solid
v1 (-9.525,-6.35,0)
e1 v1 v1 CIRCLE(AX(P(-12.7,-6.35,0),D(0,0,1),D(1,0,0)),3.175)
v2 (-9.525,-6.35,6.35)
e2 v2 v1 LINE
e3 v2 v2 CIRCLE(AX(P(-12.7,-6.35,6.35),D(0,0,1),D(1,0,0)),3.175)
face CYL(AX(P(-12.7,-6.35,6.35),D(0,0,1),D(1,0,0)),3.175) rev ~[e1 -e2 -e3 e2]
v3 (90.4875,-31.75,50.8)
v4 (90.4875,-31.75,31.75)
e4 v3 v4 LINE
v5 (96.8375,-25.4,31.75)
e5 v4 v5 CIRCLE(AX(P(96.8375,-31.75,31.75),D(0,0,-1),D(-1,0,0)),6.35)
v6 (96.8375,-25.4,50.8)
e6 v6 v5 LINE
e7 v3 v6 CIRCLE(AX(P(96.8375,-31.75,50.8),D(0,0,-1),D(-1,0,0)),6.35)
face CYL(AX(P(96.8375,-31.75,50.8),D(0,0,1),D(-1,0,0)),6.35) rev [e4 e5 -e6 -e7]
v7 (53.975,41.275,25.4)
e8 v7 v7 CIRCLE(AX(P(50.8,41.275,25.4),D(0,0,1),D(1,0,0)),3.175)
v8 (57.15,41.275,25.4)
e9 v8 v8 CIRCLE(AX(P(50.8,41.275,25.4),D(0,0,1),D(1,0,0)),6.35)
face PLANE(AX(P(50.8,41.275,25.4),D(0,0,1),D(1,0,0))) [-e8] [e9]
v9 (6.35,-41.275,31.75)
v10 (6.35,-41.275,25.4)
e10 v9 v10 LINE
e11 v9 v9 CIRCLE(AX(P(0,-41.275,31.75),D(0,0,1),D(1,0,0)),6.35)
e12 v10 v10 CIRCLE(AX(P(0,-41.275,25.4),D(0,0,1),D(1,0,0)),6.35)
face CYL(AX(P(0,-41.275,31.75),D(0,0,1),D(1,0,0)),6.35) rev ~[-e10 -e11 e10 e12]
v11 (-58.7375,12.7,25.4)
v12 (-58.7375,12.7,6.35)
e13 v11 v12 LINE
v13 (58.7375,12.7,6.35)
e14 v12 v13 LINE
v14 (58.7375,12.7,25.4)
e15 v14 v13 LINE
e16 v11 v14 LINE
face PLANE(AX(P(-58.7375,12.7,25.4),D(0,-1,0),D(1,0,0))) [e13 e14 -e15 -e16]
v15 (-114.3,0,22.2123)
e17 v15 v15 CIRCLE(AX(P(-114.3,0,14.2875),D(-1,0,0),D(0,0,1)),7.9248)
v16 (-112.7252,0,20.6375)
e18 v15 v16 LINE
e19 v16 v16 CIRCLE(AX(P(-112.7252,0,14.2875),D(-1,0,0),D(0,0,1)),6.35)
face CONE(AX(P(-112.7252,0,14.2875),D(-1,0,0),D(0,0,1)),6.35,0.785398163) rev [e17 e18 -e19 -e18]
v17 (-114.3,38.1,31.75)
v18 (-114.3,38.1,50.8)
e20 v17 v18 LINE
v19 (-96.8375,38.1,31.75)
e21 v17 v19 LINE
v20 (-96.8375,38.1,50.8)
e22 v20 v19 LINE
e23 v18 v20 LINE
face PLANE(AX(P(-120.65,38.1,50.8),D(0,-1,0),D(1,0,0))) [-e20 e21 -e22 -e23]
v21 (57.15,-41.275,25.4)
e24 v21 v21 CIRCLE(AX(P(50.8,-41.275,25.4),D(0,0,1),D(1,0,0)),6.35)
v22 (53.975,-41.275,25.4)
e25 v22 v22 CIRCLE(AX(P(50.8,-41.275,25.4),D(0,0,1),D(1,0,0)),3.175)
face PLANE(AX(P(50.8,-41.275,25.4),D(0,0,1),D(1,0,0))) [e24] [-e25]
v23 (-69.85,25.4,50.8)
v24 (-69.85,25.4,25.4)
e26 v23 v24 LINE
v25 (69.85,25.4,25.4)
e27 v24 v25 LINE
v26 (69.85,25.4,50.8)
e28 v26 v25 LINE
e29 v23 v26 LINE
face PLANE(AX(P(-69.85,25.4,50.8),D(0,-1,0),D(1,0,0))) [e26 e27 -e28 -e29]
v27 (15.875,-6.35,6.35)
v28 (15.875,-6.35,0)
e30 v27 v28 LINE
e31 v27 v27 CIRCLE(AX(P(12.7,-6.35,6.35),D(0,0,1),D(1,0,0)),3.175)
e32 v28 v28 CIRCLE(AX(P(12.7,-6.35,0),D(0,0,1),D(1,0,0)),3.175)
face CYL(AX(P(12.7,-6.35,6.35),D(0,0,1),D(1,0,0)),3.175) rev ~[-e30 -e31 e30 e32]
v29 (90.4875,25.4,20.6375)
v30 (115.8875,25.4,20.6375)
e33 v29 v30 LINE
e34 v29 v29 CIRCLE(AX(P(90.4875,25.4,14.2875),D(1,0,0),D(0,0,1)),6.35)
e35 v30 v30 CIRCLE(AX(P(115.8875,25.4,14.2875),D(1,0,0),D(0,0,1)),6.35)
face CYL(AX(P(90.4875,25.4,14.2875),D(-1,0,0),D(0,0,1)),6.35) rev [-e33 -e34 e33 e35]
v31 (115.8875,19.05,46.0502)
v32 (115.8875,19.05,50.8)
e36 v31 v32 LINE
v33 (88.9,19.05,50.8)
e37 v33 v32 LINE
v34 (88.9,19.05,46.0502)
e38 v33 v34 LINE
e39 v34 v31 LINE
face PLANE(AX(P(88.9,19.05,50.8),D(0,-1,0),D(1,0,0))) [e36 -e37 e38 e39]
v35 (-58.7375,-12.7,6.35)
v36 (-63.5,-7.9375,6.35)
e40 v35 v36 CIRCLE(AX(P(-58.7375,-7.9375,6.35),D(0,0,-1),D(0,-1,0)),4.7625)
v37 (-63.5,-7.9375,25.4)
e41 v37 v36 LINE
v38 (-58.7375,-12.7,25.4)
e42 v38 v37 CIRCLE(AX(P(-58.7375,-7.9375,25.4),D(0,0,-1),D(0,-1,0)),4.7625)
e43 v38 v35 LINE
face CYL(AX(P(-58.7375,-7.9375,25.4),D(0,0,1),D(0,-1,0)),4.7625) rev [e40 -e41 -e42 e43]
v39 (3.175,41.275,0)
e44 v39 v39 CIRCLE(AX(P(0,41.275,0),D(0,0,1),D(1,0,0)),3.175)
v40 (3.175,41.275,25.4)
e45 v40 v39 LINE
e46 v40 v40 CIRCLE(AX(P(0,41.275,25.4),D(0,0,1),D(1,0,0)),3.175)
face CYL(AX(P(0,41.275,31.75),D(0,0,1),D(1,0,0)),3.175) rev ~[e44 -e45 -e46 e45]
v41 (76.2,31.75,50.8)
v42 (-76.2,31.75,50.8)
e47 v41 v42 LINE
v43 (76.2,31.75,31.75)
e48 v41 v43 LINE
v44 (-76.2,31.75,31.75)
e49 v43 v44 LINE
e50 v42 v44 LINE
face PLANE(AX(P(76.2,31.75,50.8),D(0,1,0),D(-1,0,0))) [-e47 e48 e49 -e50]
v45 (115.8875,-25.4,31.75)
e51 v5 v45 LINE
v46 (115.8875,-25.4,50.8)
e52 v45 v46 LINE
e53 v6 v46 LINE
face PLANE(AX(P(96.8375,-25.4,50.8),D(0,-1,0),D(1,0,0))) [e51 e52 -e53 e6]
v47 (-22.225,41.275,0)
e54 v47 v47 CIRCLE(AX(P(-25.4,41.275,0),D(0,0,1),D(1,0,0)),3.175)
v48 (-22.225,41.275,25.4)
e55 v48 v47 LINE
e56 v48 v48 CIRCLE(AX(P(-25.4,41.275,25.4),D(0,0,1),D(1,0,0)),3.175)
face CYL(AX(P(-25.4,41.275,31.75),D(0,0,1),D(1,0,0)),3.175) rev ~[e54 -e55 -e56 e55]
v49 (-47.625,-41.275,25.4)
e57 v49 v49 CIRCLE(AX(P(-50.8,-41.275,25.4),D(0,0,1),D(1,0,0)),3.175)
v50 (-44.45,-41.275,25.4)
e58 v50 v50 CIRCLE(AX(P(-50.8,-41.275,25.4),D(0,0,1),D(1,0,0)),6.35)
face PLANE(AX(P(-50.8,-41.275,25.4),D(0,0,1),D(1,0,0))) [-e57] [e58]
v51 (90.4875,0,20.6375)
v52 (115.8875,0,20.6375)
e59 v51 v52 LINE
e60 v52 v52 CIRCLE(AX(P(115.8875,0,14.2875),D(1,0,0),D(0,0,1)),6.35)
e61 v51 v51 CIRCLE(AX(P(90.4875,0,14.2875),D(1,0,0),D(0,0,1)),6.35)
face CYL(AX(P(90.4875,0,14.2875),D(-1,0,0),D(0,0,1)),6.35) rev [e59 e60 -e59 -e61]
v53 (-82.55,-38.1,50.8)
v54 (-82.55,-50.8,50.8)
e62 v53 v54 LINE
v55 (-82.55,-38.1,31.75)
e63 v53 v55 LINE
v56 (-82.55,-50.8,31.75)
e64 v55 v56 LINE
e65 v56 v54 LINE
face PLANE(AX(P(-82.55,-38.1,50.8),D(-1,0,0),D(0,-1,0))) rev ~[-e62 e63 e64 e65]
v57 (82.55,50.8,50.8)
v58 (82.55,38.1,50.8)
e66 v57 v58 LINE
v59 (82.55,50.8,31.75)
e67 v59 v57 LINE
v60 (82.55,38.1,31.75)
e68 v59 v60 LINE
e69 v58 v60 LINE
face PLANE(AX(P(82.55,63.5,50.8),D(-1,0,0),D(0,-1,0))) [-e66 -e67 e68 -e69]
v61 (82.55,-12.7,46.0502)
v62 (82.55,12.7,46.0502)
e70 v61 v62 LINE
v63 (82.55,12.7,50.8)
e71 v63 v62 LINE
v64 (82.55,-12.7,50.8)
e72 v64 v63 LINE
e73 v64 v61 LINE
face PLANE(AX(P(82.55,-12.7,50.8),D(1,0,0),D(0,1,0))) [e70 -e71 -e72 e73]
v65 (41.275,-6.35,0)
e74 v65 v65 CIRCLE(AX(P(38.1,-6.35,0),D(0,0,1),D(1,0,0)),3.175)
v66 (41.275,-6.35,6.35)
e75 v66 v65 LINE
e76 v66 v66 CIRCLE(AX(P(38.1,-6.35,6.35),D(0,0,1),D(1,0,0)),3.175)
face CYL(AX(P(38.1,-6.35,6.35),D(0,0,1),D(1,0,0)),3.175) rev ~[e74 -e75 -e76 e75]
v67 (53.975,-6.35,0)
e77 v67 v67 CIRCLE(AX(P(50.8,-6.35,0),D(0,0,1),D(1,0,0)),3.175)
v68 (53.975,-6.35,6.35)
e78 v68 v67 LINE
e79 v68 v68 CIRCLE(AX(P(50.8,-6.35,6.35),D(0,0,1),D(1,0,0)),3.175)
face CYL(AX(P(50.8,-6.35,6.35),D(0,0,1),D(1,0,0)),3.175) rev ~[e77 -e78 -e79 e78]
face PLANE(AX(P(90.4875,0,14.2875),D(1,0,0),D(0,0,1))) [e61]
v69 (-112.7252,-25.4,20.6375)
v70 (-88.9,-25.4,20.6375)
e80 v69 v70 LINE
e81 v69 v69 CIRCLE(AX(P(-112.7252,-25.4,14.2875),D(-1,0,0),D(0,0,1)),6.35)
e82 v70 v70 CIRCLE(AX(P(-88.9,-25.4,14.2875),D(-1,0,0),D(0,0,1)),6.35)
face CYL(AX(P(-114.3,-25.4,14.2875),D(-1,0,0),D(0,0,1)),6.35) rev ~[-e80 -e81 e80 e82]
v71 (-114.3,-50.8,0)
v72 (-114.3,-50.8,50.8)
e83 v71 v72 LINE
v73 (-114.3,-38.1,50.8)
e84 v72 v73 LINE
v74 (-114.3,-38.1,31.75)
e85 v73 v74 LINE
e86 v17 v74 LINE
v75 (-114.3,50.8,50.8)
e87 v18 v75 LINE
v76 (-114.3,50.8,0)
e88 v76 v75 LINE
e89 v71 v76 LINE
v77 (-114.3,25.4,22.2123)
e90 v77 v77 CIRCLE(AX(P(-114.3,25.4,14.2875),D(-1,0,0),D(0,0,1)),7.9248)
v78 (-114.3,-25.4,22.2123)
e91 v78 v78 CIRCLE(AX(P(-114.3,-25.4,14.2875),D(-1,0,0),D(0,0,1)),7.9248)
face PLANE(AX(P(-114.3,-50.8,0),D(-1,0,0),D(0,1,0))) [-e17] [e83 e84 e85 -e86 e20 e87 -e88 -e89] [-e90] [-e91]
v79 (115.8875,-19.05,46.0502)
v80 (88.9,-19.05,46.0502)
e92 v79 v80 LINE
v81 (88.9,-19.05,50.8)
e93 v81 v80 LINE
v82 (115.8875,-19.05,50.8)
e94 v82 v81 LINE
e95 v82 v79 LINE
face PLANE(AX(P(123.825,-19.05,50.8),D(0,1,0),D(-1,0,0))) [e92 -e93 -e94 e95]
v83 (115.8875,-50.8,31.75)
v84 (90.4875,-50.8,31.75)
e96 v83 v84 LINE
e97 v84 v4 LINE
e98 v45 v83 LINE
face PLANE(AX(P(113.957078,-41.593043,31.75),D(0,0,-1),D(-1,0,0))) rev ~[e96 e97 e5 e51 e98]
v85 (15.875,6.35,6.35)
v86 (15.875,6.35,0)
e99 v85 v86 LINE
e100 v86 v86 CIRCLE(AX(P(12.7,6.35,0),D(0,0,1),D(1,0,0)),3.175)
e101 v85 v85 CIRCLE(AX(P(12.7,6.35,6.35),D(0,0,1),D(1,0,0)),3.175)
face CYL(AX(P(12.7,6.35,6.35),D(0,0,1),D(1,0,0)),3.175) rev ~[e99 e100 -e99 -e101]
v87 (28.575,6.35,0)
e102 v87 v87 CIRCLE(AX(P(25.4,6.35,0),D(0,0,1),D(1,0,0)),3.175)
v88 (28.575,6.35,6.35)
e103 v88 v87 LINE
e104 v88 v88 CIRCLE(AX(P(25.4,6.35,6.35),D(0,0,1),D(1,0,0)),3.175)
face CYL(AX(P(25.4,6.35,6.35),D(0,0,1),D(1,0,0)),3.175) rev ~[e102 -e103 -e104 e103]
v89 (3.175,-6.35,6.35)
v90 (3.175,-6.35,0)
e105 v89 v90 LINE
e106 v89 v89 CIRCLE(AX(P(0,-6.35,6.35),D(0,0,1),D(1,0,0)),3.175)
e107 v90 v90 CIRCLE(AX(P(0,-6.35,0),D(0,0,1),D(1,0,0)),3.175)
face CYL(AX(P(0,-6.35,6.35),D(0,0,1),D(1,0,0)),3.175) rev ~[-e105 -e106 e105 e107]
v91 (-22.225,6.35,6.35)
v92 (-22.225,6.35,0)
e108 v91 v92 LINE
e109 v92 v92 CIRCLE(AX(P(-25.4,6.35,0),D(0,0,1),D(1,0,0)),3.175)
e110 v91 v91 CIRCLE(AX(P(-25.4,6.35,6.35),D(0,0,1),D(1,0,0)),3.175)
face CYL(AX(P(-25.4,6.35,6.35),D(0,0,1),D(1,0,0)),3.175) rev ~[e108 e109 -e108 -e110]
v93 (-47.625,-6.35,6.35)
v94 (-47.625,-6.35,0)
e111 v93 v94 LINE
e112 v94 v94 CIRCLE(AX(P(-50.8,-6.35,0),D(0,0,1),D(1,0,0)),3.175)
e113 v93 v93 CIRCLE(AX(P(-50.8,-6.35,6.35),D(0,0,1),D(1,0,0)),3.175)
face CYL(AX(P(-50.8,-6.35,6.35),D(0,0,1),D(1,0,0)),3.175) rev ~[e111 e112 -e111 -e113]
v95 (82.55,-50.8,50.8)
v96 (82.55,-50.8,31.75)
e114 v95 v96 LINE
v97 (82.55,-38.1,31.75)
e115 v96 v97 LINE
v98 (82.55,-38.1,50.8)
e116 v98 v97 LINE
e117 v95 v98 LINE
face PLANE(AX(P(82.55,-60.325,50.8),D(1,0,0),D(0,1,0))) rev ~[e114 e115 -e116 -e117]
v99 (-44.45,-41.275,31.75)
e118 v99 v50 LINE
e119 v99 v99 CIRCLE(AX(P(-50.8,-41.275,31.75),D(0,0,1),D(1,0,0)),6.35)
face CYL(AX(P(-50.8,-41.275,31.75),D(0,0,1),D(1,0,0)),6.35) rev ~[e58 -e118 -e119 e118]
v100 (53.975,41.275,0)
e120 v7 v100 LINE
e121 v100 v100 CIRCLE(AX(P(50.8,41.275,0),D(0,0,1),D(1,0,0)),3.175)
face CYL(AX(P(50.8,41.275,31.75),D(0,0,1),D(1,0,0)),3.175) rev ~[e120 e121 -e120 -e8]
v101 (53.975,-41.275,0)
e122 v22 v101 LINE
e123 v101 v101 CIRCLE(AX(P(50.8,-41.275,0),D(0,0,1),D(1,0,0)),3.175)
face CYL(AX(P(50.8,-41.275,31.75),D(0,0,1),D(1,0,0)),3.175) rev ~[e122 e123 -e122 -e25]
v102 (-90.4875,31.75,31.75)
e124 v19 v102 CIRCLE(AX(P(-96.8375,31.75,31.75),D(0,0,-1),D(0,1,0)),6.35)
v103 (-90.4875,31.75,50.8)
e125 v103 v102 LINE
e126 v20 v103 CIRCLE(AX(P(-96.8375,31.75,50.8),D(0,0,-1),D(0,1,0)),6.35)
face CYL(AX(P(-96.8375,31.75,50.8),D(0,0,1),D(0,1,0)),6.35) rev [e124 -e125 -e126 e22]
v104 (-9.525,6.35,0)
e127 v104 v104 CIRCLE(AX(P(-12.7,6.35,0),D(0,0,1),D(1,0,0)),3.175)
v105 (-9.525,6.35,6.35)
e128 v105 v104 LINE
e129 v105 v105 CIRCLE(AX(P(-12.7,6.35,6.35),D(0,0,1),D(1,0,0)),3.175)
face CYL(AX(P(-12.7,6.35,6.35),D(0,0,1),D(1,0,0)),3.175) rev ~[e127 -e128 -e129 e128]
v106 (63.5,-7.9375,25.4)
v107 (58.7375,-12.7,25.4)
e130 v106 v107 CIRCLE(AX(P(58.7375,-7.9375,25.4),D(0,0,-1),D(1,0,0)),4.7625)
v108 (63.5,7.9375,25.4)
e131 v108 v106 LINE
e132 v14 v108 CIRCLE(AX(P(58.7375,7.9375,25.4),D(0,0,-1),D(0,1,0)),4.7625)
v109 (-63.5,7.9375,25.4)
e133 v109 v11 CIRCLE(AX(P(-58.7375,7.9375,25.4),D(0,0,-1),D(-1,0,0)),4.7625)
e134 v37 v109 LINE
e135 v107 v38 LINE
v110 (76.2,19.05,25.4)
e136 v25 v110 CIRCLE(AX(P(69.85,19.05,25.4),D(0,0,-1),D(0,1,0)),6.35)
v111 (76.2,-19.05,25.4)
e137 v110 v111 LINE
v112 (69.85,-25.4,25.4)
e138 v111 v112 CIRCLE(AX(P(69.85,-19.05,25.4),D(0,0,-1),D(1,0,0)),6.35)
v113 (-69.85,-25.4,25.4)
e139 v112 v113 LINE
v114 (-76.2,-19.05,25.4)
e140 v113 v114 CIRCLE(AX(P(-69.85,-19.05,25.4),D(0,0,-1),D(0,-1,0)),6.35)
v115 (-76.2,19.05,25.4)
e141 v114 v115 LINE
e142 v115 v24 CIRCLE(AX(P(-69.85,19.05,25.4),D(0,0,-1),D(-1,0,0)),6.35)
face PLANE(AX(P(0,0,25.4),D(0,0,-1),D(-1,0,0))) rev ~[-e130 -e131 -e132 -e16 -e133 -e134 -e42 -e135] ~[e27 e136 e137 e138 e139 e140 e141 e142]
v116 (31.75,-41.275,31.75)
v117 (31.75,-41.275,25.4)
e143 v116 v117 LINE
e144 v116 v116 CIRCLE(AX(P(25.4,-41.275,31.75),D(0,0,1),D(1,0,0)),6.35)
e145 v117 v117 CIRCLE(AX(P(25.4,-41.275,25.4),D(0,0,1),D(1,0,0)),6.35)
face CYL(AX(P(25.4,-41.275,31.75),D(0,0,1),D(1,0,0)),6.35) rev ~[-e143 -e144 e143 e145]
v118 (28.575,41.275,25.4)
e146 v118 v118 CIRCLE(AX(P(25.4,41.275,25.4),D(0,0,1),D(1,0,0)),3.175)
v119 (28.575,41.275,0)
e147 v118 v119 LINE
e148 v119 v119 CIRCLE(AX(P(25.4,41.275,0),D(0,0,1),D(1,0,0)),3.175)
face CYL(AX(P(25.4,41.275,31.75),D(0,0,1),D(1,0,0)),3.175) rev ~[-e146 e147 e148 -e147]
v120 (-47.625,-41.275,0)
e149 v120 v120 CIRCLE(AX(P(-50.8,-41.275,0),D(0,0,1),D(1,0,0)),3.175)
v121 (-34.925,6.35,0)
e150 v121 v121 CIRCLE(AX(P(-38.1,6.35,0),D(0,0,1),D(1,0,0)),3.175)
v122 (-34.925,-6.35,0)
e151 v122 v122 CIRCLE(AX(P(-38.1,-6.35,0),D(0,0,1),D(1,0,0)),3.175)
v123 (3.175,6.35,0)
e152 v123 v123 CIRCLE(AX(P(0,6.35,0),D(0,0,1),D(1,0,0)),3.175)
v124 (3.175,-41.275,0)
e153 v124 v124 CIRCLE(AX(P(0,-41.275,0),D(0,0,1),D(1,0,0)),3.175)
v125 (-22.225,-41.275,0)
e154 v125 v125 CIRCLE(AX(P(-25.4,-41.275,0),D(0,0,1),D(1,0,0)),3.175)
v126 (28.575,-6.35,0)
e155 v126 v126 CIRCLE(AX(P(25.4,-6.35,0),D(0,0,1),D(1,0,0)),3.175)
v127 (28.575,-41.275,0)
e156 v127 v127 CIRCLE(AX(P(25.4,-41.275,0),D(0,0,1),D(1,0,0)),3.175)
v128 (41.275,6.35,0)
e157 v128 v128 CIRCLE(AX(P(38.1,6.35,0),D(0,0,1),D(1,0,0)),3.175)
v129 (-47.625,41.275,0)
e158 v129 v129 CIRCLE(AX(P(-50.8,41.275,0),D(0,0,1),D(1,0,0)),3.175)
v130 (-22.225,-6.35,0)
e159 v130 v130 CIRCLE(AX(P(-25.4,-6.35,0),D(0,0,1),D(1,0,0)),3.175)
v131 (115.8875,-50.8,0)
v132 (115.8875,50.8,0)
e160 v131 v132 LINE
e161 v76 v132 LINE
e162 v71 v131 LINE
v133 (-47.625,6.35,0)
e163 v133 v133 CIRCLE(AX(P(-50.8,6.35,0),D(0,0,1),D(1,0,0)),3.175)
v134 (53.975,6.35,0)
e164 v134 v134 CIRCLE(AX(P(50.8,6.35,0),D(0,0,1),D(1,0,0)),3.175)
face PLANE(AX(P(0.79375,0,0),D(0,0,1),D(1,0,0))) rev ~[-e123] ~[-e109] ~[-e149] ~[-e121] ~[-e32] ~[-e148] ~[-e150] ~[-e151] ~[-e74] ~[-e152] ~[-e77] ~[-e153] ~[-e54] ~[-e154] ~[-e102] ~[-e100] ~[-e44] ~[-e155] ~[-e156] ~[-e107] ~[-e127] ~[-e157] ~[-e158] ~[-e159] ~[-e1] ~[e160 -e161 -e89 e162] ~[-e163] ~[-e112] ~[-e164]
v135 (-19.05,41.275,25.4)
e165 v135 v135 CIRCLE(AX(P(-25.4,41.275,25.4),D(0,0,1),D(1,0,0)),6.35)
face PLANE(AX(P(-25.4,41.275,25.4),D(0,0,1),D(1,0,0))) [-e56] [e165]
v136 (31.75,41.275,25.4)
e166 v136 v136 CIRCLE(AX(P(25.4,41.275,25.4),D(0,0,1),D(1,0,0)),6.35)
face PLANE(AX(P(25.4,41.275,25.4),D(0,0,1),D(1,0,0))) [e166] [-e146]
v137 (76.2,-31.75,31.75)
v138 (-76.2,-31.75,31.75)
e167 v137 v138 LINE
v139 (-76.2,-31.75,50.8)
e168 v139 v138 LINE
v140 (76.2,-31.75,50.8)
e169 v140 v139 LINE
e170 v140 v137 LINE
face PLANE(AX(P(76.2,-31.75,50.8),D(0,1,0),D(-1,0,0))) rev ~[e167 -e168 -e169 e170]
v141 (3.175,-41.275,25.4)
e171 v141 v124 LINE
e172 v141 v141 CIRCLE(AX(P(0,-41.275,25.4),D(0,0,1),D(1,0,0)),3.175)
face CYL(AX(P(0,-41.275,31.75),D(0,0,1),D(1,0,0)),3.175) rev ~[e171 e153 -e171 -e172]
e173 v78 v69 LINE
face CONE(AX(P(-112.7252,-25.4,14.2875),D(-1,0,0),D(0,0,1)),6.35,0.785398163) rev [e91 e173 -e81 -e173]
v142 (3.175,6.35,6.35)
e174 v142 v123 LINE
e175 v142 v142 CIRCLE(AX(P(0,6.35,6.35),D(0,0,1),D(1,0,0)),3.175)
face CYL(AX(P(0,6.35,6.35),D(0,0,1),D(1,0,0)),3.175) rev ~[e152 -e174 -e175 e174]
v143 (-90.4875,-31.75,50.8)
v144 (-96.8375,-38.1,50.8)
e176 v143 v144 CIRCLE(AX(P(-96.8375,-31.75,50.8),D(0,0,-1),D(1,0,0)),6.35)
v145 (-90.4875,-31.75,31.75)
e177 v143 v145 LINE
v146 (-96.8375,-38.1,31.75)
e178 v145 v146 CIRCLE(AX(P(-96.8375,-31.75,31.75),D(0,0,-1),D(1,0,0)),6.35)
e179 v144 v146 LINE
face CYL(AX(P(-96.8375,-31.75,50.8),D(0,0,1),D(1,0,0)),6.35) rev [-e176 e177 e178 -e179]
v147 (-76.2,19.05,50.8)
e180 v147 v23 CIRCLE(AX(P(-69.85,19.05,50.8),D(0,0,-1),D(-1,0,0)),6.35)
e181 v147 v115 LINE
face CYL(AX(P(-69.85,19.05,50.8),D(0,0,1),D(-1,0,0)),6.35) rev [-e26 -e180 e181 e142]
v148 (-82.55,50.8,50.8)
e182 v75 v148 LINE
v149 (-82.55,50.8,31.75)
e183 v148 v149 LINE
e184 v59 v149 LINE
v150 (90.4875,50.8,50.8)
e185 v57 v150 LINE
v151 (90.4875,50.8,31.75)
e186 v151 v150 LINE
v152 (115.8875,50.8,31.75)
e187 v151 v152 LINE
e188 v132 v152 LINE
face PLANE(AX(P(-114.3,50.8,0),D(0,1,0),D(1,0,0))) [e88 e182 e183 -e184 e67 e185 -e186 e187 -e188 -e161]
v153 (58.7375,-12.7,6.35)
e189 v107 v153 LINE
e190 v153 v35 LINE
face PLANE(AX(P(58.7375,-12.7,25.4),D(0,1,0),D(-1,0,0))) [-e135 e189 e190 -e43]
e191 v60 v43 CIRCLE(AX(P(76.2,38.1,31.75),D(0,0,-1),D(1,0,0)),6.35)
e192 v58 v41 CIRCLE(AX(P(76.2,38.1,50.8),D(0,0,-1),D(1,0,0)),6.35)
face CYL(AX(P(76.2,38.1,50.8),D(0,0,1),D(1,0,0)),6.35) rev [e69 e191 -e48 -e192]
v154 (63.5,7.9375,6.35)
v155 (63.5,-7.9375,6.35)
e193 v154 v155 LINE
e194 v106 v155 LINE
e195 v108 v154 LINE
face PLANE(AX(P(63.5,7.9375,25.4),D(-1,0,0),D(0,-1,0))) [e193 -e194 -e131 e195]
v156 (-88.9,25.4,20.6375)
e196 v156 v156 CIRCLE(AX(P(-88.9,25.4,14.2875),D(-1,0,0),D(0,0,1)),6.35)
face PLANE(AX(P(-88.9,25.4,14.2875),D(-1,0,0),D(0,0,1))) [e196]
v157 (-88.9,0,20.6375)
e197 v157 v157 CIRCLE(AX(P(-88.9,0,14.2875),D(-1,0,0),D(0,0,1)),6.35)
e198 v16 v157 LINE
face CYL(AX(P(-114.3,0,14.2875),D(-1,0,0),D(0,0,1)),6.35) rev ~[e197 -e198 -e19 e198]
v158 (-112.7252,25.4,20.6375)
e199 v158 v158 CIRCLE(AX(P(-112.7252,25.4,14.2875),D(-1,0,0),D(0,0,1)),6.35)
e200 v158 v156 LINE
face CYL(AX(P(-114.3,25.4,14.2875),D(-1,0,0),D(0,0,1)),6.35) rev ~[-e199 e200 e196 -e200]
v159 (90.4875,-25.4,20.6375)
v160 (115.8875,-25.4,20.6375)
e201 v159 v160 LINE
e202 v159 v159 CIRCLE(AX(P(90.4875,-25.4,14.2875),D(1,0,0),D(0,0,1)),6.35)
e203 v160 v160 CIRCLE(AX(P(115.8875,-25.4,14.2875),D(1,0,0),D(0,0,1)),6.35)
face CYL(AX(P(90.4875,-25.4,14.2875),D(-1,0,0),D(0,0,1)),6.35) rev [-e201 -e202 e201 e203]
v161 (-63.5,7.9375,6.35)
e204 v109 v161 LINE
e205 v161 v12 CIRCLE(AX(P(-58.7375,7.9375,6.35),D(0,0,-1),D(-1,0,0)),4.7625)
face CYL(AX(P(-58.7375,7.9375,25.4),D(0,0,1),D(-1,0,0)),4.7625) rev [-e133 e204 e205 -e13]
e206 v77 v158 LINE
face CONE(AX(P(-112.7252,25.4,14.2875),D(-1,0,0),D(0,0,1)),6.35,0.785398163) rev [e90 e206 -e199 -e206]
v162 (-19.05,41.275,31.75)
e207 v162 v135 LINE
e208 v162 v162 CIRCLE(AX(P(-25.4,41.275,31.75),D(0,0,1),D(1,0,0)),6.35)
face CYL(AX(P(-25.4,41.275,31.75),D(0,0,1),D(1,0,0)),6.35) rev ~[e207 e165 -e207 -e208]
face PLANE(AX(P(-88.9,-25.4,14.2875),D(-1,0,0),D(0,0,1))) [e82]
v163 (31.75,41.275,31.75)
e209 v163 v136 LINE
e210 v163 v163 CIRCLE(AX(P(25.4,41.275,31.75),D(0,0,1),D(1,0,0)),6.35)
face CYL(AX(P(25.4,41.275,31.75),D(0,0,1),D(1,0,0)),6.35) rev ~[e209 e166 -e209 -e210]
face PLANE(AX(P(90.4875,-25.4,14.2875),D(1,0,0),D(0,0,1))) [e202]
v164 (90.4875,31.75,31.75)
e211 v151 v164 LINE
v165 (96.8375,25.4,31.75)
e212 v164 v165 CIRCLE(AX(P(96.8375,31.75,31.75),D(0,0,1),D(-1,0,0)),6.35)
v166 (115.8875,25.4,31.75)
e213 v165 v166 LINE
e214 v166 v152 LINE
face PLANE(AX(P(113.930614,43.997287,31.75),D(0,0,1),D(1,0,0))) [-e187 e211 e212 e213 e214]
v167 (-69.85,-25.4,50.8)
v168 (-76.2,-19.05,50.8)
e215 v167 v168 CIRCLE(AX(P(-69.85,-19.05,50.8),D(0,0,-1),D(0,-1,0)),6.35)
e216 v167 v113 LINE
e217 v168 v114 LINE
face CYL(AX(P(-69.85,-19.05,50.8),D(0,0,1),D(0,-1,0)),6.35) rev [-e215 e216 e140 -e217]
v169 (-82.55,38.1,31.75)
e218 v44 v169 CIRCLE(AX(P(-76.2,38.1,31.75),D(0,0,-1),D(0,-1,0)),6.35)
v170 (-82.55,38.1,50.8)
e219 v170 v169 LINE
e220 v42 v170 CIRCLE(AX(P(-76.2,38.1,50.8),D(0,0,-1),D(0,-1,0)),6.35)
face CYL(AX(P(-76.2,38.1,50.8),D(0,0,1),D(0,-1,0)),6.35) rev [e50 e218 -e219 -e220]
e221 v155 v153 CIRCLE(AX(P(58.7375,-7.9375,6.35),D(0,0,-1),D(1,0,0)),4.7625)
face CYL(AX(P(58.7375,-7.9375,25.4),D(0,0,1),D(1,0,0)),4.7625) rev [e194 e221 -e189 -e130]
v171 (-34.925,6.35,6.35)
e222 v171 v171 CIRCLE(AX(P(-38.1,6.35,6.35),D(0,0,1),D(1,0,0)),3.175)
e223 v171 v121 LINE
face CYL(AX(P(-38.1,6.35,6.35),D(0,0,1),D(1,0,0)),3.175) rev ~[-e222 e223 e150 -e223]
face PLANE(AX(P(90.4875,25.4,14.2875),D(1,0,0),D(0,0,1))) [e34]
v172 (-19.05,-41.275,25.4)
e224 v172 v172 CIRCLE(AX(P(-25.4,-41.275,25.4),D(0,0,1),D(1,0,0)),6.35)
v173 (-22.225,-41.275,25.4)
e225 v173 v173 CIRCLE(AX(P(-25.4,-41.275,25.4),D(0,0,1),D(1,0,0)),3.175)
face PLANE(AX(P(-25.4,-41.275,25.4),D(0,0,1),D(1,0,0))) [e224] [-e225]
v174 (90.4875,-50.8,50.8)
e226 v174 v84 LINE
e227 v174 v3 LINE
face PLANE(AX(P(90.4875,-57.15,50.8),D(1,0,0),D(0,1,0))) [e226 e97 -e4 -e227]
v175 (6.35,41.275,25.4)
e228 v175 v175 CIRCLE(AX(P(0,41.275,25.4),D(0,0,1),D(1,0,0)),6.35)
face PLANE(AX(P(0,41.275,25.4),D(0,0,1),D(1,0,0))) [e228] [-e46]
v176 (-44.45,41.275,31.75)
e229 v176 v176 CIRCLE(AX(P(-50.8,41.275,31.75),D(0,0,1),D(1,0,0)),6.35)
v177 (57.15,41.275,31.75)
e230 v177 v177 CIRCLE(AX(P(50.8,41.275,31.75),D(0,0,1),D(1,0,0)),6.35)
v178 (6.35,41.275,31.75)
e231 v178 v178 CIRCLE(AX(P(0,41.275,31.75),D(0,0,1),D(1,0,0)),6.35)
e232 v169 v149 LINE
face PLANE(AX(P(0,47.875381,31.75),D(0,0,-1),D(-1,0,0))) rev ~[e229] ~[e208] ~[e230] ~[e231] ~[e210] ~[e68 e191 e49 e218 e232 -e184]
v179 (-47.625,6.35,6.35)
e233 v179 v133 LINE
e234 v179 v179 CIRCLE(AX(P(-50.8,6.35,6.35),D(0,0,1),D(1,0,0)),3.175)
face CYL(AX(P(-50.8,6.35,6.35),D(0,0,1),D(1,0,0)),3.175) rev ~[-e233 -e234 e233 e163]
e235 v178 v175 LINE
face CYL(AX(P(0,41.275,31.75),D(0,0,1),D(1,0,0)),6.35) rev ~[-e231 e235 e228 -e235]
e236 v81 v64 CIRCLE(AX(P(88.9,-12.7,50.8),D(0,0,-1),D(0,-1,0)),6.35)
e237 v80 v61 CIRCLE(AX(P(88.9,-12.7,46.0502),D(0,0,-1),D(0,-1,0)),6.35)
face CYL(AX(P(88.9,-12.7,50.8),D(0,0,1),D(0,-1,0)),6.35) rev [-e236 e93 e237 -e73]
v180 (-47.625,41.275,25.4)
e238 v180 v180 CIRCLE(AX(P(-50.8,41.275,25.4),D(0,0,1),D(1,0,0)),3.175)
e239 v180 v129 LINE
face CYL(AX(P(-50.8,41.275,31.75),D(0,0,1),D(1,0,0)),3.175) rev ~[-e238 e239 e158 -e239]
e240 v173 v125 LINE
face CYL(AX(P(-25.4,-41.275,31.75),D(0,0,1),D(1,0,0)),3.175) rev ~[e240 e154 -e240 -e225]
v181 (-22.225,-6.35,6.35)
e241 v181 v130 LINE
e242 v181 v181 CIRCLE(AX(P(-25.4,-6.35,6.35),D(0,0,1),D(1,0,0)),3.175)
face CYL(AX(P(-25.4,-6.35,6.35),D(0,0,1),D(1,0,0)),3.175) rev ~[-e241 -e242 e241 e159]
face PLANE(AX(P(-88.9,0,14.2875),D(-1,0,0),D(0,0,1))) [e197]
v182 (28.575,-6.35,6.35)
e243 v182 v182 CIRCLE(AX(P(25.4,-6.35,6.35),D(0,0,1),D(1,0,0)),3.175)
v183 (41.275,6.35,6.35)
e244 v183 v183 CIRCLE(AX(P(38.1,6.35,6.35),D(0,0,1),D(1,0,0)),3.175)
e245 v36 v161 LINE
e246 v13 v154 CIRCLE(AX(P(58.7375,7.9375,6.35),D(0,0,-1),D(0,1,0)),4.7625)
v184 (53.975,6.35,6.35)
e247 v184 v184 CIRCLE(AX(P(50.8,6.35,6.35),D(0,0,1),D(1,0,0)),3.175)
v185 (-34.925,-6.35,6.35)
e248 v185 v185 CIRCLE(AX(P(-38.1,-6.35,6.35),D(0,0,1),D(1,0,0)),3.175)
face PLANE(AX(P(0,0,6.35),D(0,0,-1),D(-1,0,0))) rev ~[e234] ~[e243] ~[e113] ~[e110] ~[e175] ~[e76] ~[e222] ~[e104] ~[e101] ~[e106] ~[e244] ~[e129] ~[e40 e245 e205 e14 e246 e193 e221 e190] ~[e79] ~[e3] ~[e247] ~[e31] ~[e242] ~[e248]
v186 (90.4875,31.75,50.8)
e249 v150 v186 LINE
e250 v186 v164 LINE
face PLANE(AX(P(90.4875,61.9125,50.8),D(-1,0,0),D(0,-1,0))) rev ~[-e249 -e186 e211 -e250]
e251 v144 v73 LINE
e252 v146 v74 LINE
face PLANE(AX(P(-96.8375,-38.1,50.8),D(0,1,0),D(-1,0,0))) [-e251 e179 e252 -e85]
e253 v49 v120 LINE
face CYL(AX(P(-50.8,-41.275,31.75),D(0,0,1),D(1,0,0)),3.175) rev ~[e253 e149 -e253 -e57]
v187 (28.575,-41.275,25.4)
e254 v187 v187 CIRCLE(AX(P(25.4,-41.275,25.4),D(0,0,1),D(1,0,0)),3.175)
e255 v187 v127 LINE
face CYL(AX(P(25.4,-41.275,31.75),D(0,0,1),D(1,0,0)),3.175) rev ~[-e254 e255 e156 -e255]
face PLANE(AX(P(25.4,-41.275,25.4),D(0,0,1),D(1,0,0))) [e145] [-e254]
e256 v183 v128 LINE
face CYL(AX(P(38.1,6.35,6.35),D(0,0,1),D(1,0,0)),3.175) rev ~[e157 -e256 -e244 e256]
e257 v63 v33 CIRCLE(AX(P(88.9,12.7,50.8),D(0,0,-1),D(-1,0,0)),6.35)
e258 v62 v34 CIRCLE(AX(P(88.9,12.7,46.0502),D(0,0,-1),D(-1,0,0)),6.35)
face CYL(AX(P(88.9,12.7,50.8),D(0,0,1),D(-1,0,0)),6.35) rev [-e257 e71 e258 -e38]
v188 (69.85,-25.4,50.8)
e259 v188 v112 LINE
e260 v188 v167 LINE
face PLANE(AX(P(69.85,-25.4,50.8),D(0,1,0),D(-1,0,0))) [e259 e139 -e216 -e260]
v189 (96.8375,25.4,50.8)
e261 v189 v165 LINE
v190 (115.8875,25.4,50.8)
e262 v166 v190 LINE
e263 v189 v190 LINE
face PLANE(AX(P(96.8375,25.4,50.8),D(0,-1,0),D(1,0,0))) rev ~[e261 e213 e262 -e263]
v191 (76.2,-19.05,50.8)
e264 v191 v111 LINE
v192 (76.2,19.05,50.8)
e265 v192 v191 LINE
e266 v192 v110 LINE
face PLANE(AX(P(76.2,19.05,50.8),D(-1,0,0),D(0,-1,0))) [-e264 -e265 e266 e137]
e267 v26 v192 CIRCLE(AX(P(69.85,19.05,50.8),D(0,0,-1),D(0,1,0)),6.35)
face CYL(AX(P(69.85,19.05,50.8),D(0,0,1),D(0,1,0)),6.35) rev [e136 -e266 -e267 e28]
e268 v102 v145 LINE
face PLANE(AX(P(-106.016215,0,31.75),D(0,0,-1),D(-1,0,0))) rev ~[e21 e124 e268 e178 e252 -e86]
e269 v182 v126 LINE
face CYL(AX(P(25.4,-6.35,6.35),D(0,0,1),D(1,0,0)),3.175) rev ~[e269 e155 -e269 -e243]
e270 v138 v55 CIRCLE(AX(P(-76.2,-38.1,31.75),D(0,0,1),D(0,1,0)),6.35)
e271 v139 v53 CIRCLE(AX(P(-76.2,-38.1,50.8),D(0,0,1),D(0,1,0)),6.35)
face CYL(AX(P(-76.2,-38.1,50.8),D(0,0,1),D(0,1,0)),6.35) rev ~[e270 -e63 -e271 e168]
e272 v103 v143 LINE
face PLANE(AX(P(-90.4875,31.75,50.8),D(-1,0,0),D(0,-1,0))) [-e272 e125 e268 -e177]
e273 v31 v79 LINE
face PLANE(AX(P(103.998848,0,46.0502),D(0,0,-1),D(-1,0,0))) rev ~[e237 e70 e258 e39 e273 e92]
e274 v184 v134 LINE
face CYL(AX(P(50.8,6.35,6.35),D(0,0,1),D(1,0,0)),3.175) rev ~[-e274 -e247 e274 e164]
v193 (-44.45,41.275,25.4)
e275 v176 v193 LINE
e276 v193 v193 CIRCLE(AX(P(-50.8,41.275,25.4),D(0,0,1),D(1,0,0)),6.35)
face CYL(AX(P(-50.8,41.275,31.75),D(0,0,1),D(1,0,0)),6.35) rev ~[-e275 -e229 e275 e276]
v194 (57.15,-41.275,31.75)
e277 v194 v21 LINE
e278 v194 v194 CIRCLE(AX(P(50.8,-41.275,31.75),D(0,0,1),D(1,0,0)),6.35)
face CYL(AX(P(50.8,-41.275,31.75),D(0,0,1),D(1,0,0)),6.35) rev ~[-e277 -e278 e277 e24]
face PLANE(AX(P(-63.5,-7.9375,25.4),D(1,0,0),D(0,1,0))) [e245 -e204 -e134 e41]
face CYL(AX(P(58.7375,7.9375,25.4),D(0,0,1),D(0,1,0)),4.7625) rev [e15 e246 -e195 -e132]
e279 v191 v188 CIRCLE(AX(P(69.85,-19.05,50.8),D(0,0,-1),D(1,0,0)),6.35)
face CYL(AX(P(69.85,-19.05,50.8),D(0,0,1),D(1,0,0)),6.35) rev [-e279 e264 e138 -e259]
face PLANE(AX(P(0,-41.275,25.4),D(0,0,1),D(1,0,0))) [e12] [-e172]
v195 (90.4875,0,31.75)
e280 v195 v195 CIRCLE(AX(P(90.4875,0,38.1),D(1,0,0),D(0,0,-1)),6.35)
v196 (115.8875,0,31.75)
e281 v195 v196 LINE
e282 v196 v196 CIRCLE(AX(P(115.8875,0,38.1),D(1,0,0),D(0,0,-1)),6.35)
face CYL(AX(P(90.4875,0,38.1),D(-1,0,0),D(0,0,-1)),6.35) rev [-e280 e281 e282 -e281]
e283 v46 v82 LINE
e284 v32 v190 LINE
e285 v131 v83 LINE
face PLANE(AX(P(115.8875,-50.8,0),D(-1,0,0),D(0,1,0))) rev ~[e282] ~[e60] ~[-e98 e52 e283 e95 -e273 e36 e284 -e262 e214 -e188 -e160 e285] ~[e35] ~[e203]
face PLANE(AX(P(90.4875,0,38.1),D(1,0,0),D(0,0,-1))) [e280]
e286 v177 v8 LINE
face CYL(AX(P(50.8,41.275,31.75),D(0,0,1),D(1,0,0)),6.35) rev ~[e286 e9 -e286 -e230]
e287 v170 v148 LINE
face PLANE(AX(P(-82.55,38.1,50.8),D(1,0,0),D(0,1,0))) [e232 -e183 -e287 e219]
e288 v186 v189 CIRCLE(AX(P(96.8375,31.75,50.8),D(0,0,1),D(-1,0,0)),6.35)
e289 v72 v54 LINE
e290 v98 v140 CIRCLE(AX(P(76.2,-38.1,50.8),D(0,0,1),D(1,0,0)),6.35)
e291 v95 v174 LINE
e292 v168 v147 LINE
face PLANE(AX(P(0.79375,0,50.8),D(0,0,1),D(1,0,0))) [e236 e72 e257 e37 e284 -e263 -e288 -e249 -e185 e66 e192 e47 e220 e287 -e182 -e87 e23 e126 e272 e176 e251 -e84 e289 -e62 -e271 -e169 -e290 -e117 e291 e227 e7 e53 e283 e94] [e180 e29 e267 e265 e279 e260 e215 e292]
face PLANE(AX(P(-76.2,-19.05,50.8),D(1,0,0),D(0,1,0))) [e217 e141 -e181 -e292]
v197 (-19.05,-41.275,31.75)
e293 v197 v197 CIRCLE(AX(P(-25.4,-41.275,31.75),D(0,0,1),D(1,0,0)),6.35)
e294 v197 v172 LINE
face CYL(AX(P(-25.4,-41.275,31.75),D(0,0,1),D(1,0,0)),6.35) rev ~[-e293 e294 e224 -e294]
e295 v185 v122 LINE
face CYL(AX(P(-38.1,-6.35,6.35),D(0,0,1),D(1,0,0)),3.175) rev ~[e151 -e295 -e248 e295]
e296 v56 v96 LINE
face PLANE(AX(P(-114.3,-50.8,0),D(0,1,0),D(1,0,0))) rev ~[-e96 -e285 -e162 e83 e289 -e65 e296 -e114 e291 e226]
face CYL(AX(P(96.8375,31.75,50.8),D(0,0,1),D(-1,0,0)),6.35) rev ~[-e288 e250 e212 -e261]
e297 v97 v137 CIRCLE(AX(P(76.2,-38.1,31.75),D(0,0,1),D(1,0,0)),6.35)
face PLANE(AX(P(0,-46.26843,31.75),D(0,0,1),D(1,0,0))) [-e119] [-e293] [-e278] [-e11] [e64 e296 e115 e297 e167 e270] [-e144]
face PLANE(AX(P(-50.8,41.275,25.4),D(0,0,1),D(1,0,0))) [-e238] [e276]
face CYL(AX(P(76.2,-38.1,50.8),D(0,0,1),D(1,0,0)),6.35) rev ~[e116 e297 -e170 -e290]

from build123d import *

# Parameters (mm, degrees)
SKETCH1_W           = 230.1875
SKETCH1_H           = 101.6
BASE_EXTRUDE_DEPTH  = 50.8
CUT_EXTRUDE1_DEPTH  = 25.4
CUT_EXTRUDE2_DEPTH  = 19.05
CUT_EXTRUDE3_DEPTH  = 19.05
SKETCH5_R           = 6.35
CUT_EXTRUDE4_DEPTH  = 25.4
CHAMFER2_SIZE       = 1.5748
CUT_EXTRUDE5_START  = -25.4
SKETCH6_R           = 6.35
CUT_EXTRUDE5_DEPTH  = 25.4
CUT_EXTRUDE6_DEPTH  = 19.05
SKETCH8_R           = 3.175
CUT_EXTRUDE7_DEPTH  = 135.113217679
CUT_EXTRUDE8_DEPTH  = 19.05
SKETCH10_R          = 3.175
CUT_EXTRUDE9_DEPTH  = 131.455414438
SKETCH11_R          = 6.35
CUT_EXTRUDE10_DEPTH = 6.35
CUT_EXTRUDE11_DEPTH = 4.7498


with BuildPart() as part:
    # Sketch1 → Base-Extrude (new body)
    with BuildSketch(Plane.XY):
        with Locations((0.79375, 0)):
            Rectangle(SKETCH1_W, SKETCH1_H)
    extrude(amount=BASE_EXTRUDE_DEPTH)

    # Sketch2 → Cut-Extrude1 (cut)
    with BuildSketch(Plane.XY.offset(50.8)):
        with BuildLine():
            Line((-69.85, 25.4), (69.85, 25.4))
            ThreePointArc((69.85, 25.4), (74.340128061, 23.540128061), (76.2, 19.05))
            Line((76.2, 19.05), (76.2, -19.05))
            ThreePointArc((76.2, -19.05), (74.340128061, -23.540128061), (69.85, -25.4))
            Line((69.85, -25.4), (-69.85, -25.4))
            ThreePointArc((-69.85, -25.4), (-74.340128061, -23.540128061), (-76.2, -19.05))
            Line((-76.2, -19.05), (-76.2, 19.05))
            ThreePointArc((-76.2, 19.05), (-74.340128061, 23.540128061), (-69.85, 25.4))
        make_face()
    extrude(amount=-CUT_EXTRUDE1_DEPTH, mode=Mode.SUBTRACT)

    # Sketch3 → Cut-Extrude2 (cut)
    with BuildSketch(Plane.XY.offset(50.8)):
        with BuildLine():
            Line((136.525, 61.9125), (90.4875, 61.9125))
            Line((90.4875, 61.9125), (90.4875, 31.75))
            ThreePointArc((90.4875, 31.75), (92.347371939, 27.259871939), (96.8375, 25.4))
            Line((96.8375, 25.4), (136.525, 25.4))
            Line((136.525, 25.4), (136.525, 61.9125))
        make_face()
        with BuildLine():
            Line((136.525, -57.15), (90.4875, -57.15))
            Line((90.4875, -57.15), (90.4875, -31.75))
            ThreePointArc((90.4875, -31.75), (92.347371939, -27.259871939), (96.8375, -25.4))
            Line((96.8375, -25.4), (136.525, -25.4))
            Line((136.525, -25.4), (136.525, -57.15))
        make_face()
    extrude(amount=-CUT_EXTRUDE2_DEPTH, mode=Mode.SUBTRACT)

    # Sketch4 → Cut-Extrude3 (cut)
    with BuildSketch(Plane.XY.offset(50.8)):
        with BuildLine():
            Line((-120.65, 38.1), (-96.8375, 38.1))
            ThreePointArc((-96.8375, 38.1), (-92.347371939, 36.240128061), (-90.4875, 31.75))
            Line((-90.4875, 31.75), (-90.4875, -31.75))
            ThreePointArc((-90.4875, -31.75), (-92.347371939, -36.240128061), (-96.8375, -38.1))
            Line((-96.8375, -38.1), (-120.65, -38.1))
            Line((-120.65, -38.1), (-120.65, 38.1))
        make_face()
    extrude(amount=-CUT_EXTRUDE3_DEPTH, mode=Mode.SUBTRACT)

    # Sketch5 → Cut-Extrude4 (cut)
    with BuildSketch(Plane.ZY.offset(114.3)):
        with Locations((14.2875, 0)):
            Circle(SKETCH5_R)
        with Locations((14.2875, -25.4)):
            Circle(SKETCH5_R)
        with Locations((14.2875, 25.4)):
            Circle(SKETCH5_R)
    extrude(amount=-CUT_EXTRUDE4_DEPTH, mode=Mode.SUBTRACT)

    # Chamfer2
    chamfer2_edges = [part.edges().sort_by_distance(p)[0] for p in [
        (-114.3, -25.4, 7.9375),
        (-114.3, 0, 7.9375),
        (-114.3, 25.4, 7.9375),
    ]]
    chamfer(chamfer2_edges, length=CHAMFER2_SIZE)

    # Sketch6 → Cut-Extrude5 (cut)
    with BuildSketch(Plane(origin=(115.8875, 0, 0), x_dir=(0, 0, -1), z_dir=(1, 0, 0)).offset(CUT_EXTRUDE5_START)):
        with Locations((-38.1, 0)):
            Circle(SKETCH6_R)
        with Locations(Location((-14.2875, 0, 0), (0, 0, 180))):
            Circle(SKETCH6_R)
        with Locations(Location((-14.2875, 25.4, 0), (0, 0, 180))):
            Circle(SKETCH6_R)
        with Locations(Location((-14.2875, -25.4, 0), (0, 0, 180))):
            Circle(SKETCH6_R)
    extrude(amount=CUT_EXTRUDE5_DEPTH, mode=Mode.SUBTRACT)

    # Sketch7 → Cut-Extrude6 (cut)
    with BuildSketch(Plane.XY.offset(25.4)):
        with BuildLine():
            Line((-58.7375, 12.7), (58.7375, 12.7))
            ThreePointArc((58.7375, 12.7), (62.105096045, 11.305096045), (63.5, 7.9375))
            Line((63.5, 7.9375), (63.5, -7.9375))
            ThreePointArc((63.5, -7.9375), (62.105096045, -11.305096045), (58.7375, -12.7))
            Line((58.7375, -12.7), (-58.7375, -12.7))
            ThreePointArc((-58.7375, -12.7), (-62.105096045, -11.305096045), (-63.5, -7.9375))
            Line((-63.5, -7.9375), (-63.5, 7.9375))
            ThreePointArc((-63.5, 7.9375), (-62.105096045, 11.305096045), (-58.7375, 12.7))
        make_face()
    extrude(amount=-CUT_EXTRUDE6_DEPTH, mode=Mode.SUBTRACT)

    # Sketch8 → Cut-Extrude7 (cut, through all)
    with BuildSketch(Plane.XY.offset(6.35)):
        with Locations((-50.8, 6.35)):
            Circle(SKETCH8_R)
        with Locations((-38.1, 6.35)):
            Circle(SKETCH8_R)
        with Locations((-25.4, 6.35)):
            Circle(SKETCH8_R)
        with Locations((-12.7, 6.35)):
            Circle(SKETCH8_R)
        with Locations((0, 6.35)):
            Circle(SKETCH8_R)
        with Locations((12.7, 6.35)):
            Circle(SKETCH8_R)
        with Locations((25.4, 6.35)):
            Circle(SKETCH8_R)
        with Locations((38.1, 6.35)):
            Circle(SKETCH8_R)
        with Locations((50.8, 6.35)):
            Circle(SKETCH8_R)
        with Locations((-50.8, -6.35)):
            Circle(SKETCH8_R)
        with Locations((-38.1, -6.35)):
            Circle(SKETCH8_R)
        with Locations((-25.4, -6.35)):
            Circle(SKETCH8_R)
        with Locations((-12.7, -6.35)):
            Circle(SKETCH8_R)
        with Locations((0, -6.35)):
            Circle(SKETCH8_R)
        with Locations((12.7, -6.35)):
            Circle(SKETCH8_R)
        with Locations((25.4, -6.35)):
            Circle(SKETCH8_R)
        with Locations((38.1, -6.35)):
            Circle(SKETCH8_R)
        with Locations((50.8, -6.35)):
            Circle(SKETCH8_R)
    extrude(amount=-CUT_EXTRUDE7_DEPTH, mode=Mode.SUBTRACT)

    # Sketch9 → Cut-Extrude8 (cut)
    with BuildSketch(Plane.XY.offset(50.8)):
        with BuildLine():
            Line((-82.55, 63.5), (82.55, 63.5))
            Line((82.55, 63.5), (82.55, 38.1))
            ThreePointArc((82.55, 38.1), (80.690128061, 33.609871939), (76.2, 31.75))
            Line((76.2, 31.75), (-76.2, 31.75))
            ThreePointArc((-76.2, 31.75), (-80.690128061, 33.609871939), (-82.55, 38.1))
            Line((-82.55, 38.1), (-82.55, 63.5))
        make_face()
        with BuildLine():
            Line((-82.55, -60.325), (82.55, -60.325))
            Line((82.55, -60.325), (82.55, -38.1))
            ThreePointArc((82.55, -38.1), (80.690128061, -33.609871939), (76.2, -31.75))
            Line((76.2, -31.75), (-76.2, -31.75))
            ThreePointArc((-76.2, -31.75), (-80.690128061, -33.609871939), (-82.55, -38.1))
            Line((-82.55, -38.1), (-82.55, -60.325))
        make_face()
    extrude(amount=-CUT_EXTRUDE8_DEPTH, mode=Mode.SUBTRACT)

    # Sketch10 → Cut-Extrude9 (cut, through all)
    with BuildSketch(Plane.XY.offset(31.75)):
        with Locations((0, -41.275)):
            Circle(SKETCH10_R)
        with Locations((25.4, -41.275)):
            Circle(SKETCH10_R)
        with Locations((50.8, -41.275)):
            Circle(SKETCH10_R)
        with Locations((-25.4, -41.275)):
            Circle(SKETCH10_R)
        with Locations((-50.8, -41.275)):
            Circle(SKETCH10_R)
        with Locations((0, 41.275)):
            Circle(SKETCH10_R)
        with Locations((25.4, 41.275)):
            Circle(SKETCH10_R)
        with Locations((50.8, 41.275)):
            Circle(SKETCH10_R)
        with Locations((-25.4, 41.275)):
            Circle(SKETCH10_R)
        with Locations((-50.8, 41.275)):
            Circle(SKETCH10_R)
    extrude(amount=-CUT_EXTRUDE9_DEPTH, mode=Mode.SUBTRACT)

    # Sketch11 → Cut-Extrude10 (cut)
    with BuildSketch(Plane.XY.offset(31.75)):
        with Locations((-50.8, 41.275)):
            Circle(SKETCH11_R)
        with Locations((-25.4, 41.275)):
            Circle(SKETCH11_R)
        with Locations((0, 41.275)):
            Circle(SKETCH11_R)
        with Locations((25.4, 41.275)):
            Circle(SKETCH11_R)
        with Locations((50.8, 41.275)):
            Circle(SKETCH11_R)
        with Locations((-50.8, -41.275)):
            Circle(SKETCH11_R)
        with Locations((-25.4, -41.275)):
            Circle(SKETCH11_R)
        with Locations((0, -41.275)):
            Circle(SKETCH11_R)
        with Locations((25.4, -41.275)):
            Circle(SKETCH11_R)
        with Locations((50.8, -41.275)):
            Circle(SKETCH11_R)
    extrude(amount=-CUT_EXTRUDE10_DEPTH, mode=Mode.SUBTRACT)

    # Sketch12 → Cut-Extrude11 (cut)
    with BuildSketch(Plane.XY.offset(50.8)):
        with BuildLine():
            Line((88.9, 19.05), (123.825, 19.05))
            Line((123.825, 19.05), (123.825, -19.05))
            Line((123.825, -19.05), (88.9, -19.05))
            ThreePointArc((88.9, -19.05), (84.409871939, -17.190128061), (82.55, -12.7))
            Line((82.55, -12.7), (82.55, 12.7))
            ThreePointArc((82.55, 12.7), (84.409871939, 17.190128061), (88.9, 19.05))
        make_face()
    extrude(amount=-CUT_EXTRUDE11_DEPTH, mode=Mode.SUBTRACT)


solid = part.part
